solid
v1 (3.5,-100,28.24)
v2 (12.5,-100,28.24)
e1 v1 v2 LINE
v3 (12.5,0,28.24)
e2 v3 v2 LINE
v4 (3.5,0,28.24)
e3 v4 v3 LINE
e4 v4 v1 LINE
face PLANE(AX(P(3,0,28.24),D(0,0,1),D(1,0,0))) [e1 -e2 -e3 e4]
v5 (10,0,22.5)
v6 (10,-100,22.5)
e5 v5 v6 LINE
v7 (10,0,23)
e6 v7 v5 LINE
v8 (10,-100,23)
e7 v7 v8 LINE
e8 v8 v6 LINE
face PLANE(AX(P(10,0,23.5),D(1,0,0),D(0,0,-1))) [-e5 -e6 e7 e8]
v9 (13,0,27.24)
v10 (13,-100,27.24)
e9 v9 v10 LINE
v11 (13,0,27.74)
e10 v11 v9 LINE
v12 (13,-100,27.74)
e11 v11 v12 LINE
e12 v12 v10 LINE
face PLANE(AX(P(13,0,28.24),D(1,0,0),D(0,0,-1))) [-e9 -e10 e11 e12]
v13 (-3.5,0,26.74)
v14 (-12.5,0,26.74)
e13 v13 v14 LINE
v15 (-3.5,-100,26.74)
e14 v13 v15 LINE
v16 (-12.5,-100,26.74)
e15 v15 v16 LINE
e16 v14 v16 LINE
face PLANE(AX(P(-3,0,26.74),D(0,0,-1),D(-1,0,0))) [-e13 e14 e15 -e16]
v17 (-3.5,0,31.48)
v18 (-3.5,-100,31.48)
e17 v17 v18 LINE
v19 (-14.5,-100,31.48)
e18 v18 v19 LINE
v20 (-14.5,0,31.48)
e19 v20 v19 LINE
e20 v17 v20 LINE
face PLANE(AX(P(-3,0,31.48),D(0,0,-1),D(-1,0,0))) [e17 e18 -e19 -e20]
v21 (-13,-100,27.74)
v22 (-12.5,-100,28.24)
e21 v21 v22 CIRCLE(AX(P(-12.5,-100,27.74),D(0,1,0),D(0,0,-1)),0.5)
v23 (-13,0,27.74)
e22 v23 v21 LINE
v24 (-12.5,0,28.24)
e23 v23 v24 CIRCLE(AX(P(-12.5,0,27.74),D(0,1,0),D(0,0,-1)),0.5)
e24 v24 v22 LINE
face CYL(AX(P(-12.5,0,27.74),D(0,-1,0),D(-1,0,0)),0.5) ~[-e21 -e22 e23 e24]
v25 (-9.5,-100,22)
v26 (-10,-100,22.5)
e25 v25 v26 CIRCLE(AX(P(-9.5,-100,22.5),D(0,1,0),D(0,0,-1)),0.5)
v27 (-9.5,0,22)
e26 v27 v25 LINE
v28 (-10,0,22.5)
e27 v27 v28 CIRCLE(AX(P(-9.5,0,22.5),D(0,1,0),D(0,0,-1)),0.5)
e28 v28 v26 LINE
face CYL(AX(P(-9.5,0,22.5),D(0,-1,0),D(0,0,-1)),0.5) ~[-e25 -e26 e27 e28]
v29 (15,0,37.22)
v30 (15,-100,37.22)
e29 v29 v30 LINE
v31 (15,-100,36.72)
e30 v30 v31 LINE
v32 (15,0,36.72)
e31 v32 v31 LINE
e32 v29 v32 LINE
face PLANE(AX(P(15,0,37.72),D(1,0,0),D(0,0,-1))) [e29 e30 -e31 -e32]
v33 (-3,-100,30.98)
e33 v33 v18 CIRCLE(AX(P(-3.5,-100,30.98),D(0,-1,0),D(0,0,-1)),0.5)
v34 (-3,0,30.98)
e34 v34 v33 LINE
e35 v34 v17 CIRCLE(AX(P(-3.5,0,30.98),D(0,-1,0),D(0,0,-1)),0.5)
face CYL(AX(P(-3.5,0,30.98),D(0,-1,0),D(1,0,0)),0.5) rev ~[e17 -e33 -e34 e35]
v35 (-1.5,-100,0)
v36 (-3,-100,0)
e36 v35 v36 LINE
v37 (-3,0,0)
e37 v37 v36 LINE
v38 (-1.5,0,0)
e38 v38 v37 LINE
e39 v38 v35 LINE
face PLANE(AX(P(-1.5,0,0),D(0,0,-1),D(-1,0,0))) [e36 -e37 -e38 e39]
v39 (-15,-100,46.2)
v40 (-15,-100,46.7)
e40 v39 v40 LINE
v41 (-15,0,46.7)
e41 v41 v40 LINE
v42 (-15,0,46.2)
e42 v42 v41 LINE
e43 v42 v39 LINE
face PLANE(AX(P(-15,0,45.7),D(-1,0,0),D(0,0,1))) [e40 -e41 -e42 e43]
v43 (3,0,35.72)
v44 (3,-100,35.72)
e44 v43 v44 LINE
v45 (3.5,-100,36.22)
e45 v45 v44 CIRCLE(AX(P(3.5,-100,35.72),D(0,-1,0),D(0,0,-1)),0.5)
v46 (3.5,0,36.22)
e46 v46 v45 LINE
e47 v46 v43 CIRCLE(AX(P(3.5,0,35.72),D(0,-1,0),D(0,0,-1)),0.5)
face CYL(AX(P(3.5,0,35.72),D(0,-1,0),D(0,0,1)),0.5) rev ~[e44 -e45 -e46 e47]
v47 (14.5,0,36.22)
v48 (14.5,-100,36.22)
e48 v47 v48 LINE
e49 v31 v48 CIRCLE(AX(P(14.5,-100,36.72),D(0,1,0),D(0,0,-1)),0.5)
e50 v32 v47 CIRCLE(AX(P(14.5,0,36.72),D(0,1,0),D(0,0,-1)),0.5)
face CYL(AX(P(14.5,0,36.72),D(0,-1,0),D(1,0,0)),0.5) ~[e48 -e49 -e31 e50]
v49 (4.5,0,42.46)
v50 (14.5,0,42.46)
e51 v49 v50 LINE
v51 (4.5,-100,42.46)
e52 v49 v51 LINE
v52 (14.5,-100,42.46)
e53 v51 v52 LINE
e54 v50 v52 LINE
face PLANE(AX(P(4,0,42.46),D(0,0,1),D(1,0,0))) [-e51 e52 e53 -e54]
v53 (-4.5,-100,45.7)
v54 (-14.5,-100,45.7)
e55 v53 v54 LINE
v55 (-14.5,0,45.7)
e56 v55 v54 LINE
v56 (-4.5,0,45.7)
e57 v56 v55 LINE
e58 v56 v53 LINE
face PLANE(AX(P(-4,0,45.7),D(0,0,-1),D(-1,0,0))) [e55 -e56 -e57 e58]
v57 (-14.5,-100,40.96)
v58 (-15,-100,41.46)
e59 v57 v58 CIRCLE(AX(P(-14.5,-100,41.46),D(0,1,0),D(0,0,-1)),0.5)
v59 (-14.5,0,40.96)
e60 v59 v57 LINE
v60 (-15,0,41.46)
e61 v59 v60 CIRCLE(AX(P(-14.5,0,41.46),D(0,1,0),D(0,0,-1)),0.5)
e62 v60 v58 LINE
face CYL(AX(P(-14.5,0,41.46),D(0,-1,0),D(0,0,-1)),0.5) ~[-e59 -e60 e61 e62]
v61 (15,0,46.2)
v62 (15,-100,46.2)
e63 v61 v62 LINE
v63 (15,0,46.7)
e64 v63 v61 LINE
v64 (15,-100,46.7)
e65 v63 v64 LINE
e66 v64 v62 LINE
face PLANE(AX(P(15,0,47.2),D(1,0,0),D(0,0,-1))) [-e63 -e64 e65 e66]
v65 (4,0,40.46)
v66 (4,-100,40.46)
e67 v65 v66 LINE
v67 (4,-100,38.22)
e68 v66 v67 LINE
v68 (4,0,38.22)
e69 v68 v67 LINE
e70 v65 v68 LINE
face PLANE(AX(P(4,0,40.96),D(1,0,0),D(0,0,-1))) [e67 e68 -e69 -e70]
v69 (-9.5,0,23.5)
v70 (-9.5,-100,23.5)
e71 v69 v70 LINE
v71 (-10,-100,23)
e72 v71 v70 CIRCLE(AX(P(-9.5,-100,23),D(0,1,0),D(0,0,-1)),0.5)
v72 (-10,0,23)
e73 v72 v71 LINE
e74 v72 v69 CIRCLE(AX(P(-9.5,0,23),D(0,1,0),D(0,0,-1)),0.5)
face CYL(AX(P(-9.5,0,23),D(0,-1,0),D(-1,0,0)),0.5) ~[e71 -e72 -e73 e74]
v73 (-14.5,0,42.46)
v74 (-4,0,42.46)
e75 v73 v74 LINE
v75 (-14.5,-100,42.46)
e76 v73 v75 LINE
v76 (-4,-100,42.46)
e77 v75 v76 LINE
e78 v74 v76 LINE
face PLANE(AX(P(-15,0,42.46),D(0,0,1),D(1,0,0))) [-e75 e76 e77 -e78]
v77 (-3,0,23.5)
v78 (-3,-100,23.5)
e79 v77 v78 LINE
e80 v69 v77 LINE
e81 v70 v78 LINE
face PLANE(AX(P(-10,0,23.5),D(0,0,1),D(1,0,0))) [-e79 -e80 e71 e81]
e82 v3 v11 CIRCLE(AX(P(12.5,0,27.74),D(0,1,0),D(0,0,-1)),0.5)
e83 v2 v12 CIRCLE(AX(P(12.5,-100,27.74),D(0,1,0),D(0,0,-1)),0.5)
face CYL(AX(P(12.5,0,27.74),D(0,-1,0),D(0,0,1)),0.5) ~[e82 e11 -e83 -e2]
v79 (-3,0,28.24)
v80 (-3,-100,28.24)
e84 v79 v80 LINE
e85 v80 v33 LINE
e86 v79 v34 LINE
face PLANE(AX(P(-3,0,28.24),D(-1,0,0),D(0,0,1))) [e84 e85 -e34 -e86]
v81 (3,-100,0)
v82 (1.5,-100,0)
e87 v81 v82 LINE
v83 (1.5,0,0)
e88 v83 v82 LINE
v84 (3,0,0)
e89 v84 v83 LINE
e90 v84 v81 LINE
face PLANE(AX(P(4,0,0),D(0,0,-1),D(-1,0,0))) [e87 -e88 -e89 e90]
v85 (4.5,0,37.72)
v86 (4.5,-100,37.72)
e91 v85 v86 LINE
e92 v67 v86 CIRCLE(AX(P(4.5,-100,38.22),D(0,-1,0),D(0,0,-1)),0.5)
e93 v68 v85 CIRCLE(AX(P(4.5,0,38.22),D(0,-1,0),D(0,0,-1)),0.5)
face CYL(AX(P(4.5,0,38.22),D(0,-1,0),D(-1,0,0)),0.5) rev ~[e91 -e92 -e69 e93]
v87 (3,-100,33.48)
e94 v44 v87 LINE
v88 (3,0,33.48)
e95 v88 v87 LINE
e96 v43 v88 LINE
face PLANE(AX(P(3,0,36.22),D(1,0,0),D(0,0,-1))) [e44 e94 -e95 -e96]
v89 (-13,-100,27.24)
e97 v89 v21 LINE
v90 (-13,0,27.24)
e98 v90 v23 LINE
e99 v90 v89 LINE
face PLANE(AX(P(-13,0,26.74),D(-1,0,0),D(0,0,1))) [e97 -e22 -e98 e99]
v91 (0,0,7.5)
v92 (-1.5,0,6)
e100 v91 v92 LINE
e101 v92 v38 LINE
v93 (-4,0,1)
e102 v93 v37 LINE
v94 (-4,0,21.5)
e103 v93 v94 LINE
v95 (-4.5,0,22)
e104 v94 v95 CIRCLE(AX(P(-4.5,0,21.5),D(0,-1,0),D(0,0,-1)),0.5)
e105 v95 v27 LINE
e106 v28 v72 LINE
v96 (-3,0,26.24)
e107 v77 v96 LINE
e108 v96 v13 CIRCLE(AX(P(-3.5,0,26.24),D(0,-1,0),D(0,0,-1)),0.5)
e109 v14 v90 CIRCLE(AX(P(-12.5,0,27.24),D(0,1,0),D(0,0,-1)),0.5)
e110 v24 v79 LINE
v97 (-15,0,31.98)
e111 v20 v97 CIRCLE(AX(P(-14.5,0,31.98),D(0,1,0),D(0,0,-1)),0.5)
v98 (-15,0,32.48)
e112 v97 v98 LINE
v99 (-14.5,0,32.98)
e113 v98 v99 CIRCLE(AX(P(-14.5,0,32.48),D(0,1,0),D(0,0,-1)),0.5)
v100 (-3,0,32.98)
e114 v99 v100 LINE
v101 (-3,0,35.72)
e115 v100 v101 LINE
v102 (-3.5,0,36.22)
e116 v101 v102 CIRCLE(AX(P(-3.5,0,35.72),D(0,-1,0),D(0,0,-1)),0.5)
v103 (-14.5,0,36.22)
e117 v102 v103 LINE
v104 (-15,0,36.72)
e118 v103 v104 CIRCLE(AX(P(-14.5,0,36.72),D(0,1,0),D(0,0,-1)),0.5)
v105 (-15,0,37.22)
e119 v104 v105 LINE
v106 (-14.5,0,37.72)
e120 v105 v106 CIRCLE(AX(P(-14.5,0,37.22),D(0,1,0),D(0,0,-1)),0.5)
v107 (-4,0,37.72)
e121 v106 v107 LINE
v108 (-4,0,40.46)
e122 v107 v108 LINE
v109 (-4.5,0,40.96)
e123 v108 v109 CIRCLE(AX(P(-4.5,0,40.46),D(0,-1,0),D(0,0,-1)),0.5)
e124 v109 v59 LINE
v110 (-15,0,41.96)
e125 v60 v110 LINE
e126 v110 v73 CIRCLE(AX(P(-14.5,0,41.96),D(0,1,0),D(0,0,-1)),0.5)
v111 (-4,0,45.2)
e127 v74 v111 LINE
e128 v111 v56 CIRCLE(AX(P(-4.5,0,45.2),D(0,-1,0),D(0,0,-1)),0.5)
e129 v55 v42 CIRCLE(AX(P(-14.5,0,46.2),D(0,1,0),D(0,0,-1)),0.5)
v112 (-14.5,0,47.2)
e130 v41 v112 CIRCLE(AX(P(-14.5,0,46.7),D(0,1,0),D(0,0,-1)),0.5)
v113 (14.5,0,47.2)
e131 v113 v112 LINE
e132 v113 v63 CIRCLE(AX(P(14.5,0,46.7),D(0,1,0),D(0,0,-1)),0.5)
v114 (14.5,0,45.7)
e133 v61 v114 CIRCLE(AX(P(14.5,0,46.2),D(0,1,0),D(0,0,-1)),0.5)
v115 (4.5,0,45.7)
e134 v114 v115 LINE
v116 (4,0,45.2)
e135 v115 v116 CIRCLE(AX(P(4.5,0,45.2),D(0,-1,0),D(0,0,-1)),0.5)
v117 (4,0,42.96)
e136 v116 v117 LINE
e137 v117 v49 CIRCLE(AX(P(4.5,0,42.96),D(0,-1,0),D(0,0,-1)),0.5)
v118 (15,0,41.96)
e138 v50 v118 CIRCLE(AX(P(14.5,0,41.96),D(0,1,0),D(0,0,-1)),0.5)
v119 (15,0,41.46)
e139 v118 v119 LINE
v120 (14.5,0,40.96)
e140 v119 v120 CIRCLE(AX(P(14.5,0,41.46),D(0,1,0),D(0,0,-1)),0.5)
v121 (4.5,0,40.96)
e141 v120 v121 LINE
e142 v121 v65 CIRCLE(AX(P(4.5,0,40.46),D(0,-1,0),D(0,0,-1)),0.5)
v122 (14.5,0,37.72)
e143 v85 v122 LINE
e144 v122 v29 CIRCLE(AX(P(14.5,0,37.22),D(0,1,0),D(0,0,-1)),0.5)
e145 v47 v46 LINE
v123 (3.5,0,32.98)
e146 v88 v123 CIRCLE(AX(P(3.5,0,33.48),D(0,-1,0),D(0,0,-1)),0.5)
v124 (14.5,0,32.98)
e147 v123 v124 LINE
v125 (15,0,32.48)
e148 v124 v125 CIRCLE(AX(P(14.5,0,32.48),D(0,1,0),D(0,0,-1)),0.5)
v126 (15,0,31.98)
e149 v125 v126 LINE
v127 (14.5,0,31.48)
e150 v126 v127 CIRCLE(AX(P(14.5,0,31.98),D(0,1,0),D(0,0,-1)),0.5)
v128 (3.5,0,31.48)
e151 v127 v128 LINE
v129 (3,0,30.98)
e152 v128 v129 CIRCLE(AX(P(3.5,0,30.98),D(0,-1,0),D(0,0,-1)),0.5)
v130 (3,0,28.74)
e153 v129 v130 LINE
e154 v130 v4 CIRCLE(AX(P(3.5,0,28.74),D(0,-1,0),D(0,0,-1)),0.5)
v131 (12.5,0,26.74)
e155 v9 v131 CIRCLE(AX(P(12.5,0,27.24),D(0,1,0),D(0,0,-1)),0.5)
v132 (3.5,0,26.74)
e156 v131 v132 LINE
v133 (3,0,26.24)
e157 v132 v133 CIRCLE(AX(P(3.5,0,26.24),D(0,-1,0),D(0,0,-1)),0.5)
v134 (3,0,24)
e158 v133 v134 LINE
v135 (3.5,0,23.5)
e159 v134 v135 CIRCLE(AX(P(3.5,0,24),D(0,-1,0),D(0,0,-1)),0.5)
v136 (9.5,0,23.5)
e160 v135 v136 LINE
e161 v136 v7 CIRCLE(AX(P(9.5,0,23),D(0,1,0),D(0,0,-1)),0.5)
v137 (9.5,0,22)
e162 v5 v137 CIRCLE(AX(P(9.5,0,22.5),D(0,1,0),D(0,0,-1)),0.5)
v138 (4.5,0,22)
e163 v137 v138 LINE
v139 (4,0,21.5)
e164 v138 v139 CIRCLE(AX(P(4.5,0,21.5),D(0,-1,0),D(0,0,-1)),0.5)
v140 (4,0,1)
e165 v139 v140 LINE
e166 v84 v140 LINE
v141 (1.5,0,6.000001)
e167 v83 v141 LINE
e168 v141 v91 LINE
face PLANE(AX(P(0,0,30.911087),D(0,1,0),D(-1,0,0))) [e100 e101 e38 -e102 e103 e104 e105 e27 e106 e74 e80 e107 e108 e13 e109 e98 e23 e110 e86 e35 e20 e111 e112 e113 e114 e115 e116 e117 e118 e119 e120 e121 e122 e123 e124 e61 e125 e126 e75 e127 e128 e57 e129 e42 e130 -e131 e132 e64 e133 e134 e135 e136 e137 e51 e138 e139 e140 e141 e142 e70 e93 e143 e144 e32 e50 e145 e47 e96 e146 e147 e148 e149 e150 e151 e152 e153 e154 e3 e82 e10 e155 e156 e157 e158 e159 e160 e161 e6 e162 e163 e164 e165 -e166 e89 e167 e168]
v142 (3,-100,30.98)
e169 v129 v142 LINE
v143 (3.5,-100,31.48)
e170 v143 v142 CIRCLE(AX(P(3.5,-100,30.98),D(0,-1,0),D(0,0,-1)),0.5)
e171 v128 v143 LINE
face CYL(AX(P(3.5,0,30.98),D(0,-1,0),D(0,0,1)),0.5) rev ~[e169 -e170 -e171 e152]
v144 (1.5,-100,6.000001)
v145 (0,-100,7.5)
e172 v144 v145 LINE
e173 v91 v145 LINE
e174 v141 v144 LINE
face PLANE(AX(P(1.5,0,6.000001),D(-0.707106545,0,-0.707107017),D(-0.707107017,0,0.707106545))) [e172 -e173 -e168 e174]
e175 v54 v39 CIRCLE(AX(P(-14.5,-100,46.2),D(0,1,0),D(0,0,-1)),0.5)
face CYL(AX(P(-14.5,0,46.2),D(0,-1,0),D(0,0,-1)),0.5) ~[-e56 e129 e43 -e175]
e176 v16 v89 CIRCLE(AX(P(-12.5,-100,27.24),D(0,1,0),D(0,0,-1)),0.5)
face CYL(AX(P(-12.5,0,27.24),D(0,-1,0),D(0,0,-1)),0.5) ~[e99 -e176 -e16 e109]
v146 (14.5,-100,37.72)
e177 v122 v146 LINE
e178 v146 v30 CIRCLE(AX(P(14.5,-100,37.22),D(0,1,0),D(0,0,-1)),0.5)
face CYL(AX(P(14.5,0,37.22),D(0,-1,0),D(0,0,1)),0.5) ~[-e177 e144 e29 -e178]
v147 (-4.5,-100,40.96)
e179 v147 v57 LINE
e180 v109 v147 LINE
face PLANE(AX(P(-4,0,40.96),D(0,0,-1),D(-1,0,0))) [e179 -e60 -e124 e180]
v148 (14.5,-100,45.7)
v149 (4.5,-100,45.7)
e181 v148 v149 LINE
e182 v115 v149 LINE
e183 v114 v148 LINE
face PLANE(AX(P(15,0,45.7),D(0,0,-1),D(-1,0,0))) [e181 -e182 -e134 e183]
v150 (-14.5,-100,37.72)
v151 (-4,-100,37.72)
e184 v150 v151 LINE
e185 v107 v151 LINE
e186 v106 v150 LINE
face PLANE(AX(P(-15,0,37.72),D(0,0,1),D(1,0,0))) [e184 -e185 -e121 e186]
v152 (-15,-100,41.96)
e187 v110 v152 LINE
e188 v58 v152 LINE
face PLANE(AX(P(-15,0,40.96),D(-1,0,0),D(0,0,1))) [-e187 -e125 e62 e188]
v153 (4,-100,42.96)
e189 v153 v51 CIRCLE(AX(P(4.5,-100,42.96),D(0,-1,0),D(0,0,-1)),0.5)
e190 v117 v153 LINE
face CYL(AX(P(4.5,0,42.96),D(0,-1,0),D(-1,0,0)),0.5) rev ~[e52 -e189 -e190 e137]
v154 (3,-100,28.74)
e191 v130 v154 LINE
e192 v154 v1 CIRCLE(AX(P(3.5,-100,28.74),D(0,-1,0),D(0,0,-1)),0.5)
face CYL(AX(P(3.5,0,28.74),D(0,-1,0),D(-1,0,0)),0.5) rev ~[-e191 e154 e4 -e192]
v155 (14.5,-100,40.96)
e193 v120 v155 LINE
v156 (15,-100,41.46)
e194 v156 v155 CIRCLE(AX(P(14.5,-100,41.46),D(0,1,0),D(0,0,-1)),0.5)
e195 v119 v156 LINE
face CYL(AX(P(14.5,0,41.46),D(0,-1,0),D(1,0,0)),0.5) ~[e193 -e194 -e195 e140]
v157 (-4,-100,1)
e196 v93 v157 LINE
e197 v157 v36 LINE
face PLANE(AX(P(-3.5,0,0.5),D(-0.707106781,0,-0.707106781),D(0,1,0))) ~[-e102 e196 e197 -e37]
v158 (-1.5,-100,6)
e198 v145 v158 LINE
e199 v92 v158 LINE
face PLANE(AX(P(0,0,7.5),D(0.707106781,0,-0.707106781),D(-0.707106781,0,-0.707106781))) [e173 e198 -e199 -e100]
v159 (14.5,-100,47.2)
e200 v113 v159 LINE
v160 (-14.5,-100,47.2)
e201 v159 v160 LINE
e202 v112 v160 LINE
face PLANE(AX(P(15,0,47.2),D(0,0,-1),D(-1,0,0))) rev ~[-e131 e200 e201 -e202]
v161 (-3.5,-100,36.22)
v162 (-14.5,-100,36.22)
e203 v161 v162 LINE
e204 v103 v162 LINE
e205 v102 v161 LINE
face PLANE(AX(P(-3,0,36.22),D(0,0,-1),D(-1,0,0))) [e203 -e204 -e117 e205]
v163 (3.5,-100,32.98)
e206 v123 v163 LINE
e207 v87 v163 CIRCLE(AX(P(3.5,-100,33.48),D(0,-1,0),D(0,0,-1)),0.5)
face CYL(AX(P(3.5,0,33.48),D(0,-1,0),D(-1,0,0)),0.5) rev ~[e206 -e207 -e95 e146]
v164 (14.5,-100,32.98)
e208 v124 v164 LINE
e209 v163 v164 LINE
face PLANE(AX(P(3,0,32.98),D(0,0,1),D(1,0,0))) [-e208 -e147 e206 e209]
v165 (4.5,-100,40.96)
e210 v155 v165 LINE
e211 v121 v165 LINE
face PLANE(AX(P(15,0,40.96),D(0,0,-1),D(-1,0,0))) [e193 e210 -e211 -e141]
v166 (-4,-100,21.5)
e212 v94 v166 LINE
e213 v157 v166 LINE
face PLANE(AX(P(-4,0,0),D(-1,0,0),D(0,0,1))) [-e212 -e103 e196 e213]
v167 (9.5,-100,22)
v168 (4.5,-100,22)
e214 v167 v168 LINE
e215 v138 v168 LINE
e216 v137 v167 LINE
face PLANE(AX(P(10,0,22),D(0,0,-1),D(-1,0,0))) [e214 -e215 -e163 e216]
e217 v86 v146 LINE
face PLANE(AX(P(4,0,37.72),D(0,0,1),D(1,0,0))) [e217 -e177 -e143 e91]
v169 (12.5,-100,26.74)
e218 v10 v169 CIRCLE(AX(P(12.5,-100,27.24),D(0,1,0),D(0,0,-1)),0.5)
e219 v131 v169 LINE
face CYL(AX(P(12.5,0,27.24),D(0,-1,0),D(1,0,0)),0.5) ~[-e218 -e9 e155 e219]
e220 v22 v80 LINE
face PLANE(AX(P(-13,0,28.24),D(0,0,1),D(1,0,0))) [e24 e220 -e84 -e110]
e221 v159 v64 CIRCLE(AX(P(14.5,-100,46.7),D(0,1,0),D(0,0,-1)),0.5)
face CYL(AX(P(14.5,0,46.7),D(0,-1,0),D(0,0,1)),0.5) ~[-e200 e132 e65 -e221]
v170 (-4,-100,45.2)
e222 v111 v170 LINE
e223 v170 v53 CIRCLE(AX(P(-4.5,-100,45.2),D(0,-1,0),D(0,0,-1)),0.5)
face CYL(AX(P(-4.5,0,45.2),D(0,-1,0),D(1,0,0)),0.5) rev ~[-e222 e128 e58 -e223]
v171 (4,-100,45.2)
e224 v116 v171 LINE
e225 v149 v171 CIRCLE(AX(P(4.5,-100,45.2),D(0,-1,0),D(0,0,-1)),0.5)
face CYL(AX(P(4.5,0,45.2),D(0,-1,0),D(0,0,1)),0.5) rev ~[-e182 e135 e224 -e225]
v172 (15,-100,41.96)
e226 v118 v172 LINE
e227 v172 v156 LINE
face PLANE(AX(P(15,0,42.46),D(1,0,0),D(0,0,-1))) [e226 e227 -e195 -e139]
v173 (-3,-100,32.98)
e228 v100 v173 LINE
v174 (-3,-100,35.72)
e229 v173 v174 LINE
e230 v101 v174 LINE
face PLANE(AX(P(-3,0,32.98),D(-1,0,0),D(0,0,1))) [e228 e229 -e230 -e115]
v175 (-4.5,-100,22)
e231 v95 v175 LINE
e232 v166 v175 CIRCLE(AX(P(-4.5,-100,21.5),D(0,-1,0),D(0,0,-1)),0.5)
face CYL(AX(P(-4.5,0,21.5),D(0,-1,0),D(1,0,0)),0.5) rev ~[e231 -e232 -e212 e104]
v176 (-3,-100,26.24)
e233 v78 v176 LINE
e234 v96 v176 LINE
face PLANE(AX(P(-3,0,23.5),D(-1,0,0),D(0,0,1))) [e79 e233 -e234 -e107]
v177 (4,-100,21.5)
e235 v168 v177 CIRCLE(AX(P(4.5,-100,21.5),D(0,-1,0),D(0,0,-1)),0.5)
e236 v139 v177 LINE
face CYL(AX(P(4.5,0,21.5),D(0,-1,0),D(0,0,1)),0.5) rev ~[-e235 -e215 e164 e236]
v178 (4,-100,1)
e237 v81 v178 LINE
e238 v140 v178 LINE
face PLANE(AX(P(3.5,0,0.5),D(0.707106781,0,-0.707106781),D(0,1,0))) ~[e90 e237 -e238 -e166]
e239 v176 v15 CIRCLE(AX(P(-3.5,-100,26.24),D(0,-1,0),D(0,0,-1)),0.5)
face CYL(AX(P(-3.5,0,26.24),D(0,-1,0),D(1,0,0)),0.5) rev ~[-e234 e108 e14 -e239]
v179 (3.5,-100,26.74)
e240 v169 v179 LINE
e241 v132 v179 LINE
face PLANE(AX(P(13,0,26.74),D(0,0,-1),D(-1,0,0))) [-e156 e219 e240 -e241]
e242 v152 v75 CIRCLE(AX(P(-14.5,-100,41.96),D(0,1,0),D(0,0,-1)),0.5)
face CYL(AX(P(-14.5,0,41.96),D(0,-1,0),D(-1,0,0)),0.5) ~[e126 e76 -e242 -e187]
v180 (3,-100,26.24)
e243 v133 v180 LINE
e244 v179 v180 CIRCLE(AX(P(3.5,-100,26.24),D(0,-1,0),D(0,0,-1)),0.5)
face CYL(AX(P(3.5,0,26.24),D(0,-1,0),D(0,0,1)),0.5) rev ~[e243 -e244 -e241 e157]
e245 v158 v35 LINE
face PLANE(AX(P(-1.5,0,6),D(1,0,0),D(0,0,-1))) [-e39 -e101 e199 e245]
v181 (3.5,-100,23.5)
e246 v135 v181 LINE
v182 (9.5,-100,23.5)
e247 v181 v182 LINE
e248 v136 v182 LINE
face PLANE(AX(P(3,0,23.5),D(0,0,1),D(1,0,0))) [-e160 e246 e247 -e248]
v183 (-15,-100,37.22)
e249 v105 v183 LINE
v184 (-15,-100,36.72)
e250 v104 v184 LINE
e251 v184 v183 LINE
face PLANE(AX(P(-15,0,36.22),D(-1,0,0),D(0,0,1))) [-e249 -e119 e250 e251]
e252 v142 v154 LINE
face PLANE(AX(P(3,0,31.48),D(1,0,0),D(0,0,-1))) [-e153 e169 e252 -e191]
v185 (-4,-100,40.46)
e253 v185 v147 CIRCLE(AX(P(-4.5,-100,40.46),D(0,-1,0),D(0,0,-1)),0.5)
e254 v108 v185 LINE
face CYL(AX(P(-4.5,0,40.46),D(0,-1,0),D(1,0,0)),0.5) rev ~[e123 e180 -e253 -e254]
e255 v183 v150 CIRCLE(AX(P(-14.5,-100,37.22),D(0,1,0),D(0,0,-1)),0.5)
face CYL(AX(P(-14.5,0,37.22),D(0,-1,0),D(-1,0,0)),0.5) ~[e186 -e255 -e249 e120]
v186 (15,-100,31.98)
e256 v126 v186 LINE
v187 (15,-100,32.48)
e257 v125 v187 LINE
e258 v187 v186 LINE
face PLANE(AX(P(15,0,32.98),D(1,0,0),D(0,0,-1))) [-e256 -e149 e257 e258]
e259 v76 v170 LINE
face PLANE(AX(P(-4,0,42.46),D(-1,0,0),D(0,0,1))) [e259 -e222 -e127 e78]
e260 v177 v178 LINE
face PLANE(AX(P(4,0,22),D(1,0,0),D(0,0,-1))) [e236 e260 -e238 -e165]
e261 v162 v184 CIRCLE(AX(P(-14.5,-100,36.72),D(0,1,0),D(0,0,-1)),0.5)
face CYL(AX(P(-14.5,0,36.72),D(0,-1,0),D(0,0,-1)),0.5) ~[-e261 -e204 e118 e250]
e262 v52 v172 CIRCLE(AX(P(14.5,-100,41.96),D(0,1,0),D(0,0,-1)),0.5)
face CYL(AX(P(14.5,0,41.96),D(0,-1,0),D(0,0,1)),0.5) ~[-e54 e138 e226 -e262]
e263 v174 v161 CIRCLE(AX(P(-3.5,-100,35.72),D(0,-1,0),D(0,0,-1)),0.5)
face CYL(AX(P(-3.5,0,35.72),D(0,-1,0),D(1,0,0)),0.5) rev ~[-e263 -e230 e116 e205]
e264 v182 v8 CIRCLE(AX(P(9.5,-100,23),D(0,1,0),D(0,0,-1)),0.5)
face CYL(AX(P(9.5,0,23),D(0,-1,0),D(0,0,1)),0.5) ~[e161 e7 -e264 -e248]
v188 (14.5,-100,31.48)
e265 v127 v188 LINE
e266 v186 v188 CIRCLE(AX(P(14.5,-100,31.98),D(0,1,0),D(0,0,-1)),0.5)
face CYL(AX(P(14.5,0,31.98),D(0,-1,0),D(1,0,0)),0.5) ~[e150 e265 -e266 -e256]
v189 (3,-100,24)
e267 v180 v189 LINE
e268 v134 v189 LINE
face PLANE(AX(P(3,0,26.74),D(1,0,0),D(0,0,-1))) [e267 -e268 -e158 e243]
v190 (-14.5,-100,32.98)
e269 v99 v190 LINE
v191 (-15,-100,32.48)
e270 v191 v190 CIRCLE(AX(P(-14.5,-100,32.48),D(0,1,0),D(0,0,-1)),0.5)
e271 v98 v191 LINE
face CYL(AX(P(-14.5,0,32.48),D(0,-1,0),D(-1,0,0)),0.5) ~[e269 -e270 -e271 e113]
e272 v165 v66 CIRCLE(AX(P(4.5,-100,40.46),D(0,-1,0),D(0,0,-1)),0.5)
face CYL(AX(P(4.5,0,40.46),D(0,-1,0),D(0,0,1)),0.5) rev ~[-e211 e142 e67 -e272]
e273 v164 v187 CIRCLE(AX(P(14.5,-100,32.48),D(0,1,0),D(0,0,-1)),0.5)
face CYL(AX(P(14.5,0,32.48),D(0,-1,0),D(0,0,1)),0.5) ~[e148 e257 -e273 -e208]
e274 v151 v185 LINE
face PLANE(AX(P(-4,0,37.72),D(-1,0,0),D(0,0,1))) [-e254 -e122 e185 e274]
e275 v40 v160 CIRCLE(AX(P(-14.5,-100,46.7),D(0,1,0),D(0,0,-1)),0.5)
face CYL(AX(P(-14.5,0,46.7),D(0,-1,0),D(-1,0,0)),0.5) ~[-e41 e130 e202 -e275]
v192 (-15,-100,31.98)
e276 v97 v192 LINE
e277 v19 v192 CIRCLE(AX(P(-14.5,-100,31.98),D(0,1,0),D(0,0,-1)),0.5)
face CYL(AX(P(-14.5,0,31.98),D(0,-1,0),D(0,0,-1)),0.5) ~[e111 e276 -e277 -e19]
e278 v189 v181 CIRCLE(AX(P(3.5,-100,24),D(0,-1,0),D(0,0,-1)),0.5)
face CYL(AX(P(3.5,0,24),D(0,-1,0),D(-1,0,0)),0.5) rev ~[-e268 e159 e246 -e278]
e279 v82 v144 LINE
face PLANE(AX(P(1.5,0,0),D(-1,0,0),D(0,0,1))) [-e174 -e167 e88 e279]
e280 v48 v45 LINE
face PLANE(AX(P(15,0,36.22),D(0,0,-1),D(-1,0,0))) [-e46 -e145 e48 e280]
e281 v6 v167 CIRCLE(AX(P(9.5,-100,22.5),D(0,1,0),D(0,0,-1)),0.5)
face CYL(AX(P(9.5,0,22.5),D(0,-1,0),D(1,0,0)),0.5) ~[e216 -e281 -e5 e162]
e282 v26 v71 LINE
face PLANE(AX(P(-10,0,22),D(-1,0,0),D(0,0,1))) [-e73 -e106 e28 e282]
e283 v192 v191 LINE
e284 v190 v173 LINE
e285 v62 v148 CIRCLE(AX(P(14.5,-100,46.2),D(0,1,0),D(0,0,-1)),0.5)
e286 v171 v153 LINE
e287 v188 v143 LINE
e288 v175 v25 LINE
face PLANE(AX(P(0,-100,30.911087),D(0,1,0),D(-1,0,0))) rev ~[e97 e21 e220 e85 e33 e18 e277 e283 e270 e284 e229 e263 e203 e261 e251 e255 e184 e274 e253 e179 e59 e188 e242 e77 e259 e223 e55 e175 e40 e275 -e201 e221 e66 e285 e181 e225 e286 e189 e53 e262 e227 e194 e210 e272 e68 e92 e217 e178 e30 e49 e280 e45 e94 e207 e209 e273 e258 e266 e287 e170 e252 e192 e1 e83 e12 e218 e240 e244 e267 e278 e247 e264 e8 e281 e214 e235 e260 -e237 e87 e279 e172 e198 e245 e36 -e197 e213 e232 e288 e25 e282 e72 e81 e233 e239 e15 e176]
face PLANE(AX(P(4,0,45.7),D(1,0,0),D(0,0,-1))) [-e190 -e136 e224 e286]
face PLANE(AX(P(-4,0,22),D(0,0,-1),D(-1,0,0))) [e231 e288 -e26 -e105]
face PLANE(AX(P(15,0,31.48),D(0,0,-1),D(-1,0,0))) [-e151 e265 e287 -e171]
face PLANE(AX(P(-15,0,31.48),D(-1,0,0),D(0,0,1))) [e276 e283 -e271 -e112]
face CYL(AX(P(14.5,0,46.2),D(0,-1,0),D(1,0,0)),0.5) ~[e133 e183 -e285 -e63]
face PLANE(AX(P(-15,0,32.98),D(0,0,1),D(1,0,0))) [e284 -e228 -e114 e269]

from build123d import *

# Parameters (mm, degrees)
PAD_DEPTH    = 100
FILLET_R     = 0.5
CHAMFER_SIZE = 1


with BuildPart() as part:
    # Sketch → Pad (new body)
    with BuildSketch(Plane.XZ):
        Polygon((0, 7.5), (-1.5, 6), (-1.5, 0), (-4, 0), (-4, 22), (-10, 22), (-10, 23.5), (-3, 23.5), (-3, 26.74), (-13, 26.74), (-13, 28.24), (-3, 28.24), (-3, 31.48), (-15, 31.48), (-15, 32.98), (-3, 32.98), (-3, 36.22), (-15, 36.22), (-15, 37.72), (-4, 37.72), (-4, 40.96), (-15, 40.96), (-15, 42.46), (-4, 42.46), (-4, 45.7), (-15, 45.7), (-15, 47.2), (0, 47.2), (15, 47.2), (15, 45.7), (4, 45.7), (4, 42.46), (15, 42.46), (15, 40.96), (4, 40.96), (4, 37.72), (15, 37.72), (15, 36.22), (3, 36.22), (3, 32.98), (15, 32.98), (15, 31.48), (3, 31.48), (3, 28.24), (13, 28.24), (13, 26.74), (3, 26.74), (3, 23.5), (10, 23.5), (10, 22), (4, 22), (4, 0), (1.5, 0), (1.5, 6.000001), align=None)
    extrude(amount=PAD_DEPTH)

    # Fillet
    fillet_edges = [part.edges().sort_by_distance(p)[0] for p in [
        (3, -50, 28.24),
        (3, -50, 32.98),
        (4, -50, 37.72),
        (4, -50, 42.46),
        (3, -50, 23.5),
        (15, -50, 31.48),
        (13, -50, 26.74),
        (13, -50, 28.24),
        (15, -50, 32.98),
        (15, -50, 36.22),
        (15, -50, 37.72),
        (15, -50, 40.96),
        (15, -50, 42.46),
        (15, -50, 45.7),
        (15, -50, 47.2),
        (10, -50, 22),
        (10, -50, 23.5),
        (4, -50, 22),
        (3, -50, 26.74),
        (3, -50, 31.48),
        (3, -50, 36.22),
        (4, -50, 40.96),
        (4, -50, 45.7),
        (-4, -50, 22),
        (-10, -50, 22),
        (-10, -50, 23.5),
        (-3, -50, 26.74),
        (-13, -50, 26.74),
        (-13, -50, 28.24),
        (-3, -50, 31.48),
        (-15, -50, 31.48),
        (-15, -50, 32.98),
        (-3, -50, 36.22),
        (-15, -50, 36.22),
        (-15, -50, 37.72),
        (-4, -50, 40.96),
        (-15, -50, 40.96),
        (-15, -50, 42.46),
        (-4, -50, 45.7),
        (-15, -50, 45.7),
        (-15, -50, 47.2),
    ]]
    fillet(fillet_edges, radius=FILLET_R)

    # Chamfer
    chamfer_edges = [part.edges().sort_by_distance(p)[0] for p in [
        (4, -50, 0),
        (-4, -50, 0),
    ]]
    chamfer(chamfer_edges, length=CHAMFER_SIZE)


solid = part.part
